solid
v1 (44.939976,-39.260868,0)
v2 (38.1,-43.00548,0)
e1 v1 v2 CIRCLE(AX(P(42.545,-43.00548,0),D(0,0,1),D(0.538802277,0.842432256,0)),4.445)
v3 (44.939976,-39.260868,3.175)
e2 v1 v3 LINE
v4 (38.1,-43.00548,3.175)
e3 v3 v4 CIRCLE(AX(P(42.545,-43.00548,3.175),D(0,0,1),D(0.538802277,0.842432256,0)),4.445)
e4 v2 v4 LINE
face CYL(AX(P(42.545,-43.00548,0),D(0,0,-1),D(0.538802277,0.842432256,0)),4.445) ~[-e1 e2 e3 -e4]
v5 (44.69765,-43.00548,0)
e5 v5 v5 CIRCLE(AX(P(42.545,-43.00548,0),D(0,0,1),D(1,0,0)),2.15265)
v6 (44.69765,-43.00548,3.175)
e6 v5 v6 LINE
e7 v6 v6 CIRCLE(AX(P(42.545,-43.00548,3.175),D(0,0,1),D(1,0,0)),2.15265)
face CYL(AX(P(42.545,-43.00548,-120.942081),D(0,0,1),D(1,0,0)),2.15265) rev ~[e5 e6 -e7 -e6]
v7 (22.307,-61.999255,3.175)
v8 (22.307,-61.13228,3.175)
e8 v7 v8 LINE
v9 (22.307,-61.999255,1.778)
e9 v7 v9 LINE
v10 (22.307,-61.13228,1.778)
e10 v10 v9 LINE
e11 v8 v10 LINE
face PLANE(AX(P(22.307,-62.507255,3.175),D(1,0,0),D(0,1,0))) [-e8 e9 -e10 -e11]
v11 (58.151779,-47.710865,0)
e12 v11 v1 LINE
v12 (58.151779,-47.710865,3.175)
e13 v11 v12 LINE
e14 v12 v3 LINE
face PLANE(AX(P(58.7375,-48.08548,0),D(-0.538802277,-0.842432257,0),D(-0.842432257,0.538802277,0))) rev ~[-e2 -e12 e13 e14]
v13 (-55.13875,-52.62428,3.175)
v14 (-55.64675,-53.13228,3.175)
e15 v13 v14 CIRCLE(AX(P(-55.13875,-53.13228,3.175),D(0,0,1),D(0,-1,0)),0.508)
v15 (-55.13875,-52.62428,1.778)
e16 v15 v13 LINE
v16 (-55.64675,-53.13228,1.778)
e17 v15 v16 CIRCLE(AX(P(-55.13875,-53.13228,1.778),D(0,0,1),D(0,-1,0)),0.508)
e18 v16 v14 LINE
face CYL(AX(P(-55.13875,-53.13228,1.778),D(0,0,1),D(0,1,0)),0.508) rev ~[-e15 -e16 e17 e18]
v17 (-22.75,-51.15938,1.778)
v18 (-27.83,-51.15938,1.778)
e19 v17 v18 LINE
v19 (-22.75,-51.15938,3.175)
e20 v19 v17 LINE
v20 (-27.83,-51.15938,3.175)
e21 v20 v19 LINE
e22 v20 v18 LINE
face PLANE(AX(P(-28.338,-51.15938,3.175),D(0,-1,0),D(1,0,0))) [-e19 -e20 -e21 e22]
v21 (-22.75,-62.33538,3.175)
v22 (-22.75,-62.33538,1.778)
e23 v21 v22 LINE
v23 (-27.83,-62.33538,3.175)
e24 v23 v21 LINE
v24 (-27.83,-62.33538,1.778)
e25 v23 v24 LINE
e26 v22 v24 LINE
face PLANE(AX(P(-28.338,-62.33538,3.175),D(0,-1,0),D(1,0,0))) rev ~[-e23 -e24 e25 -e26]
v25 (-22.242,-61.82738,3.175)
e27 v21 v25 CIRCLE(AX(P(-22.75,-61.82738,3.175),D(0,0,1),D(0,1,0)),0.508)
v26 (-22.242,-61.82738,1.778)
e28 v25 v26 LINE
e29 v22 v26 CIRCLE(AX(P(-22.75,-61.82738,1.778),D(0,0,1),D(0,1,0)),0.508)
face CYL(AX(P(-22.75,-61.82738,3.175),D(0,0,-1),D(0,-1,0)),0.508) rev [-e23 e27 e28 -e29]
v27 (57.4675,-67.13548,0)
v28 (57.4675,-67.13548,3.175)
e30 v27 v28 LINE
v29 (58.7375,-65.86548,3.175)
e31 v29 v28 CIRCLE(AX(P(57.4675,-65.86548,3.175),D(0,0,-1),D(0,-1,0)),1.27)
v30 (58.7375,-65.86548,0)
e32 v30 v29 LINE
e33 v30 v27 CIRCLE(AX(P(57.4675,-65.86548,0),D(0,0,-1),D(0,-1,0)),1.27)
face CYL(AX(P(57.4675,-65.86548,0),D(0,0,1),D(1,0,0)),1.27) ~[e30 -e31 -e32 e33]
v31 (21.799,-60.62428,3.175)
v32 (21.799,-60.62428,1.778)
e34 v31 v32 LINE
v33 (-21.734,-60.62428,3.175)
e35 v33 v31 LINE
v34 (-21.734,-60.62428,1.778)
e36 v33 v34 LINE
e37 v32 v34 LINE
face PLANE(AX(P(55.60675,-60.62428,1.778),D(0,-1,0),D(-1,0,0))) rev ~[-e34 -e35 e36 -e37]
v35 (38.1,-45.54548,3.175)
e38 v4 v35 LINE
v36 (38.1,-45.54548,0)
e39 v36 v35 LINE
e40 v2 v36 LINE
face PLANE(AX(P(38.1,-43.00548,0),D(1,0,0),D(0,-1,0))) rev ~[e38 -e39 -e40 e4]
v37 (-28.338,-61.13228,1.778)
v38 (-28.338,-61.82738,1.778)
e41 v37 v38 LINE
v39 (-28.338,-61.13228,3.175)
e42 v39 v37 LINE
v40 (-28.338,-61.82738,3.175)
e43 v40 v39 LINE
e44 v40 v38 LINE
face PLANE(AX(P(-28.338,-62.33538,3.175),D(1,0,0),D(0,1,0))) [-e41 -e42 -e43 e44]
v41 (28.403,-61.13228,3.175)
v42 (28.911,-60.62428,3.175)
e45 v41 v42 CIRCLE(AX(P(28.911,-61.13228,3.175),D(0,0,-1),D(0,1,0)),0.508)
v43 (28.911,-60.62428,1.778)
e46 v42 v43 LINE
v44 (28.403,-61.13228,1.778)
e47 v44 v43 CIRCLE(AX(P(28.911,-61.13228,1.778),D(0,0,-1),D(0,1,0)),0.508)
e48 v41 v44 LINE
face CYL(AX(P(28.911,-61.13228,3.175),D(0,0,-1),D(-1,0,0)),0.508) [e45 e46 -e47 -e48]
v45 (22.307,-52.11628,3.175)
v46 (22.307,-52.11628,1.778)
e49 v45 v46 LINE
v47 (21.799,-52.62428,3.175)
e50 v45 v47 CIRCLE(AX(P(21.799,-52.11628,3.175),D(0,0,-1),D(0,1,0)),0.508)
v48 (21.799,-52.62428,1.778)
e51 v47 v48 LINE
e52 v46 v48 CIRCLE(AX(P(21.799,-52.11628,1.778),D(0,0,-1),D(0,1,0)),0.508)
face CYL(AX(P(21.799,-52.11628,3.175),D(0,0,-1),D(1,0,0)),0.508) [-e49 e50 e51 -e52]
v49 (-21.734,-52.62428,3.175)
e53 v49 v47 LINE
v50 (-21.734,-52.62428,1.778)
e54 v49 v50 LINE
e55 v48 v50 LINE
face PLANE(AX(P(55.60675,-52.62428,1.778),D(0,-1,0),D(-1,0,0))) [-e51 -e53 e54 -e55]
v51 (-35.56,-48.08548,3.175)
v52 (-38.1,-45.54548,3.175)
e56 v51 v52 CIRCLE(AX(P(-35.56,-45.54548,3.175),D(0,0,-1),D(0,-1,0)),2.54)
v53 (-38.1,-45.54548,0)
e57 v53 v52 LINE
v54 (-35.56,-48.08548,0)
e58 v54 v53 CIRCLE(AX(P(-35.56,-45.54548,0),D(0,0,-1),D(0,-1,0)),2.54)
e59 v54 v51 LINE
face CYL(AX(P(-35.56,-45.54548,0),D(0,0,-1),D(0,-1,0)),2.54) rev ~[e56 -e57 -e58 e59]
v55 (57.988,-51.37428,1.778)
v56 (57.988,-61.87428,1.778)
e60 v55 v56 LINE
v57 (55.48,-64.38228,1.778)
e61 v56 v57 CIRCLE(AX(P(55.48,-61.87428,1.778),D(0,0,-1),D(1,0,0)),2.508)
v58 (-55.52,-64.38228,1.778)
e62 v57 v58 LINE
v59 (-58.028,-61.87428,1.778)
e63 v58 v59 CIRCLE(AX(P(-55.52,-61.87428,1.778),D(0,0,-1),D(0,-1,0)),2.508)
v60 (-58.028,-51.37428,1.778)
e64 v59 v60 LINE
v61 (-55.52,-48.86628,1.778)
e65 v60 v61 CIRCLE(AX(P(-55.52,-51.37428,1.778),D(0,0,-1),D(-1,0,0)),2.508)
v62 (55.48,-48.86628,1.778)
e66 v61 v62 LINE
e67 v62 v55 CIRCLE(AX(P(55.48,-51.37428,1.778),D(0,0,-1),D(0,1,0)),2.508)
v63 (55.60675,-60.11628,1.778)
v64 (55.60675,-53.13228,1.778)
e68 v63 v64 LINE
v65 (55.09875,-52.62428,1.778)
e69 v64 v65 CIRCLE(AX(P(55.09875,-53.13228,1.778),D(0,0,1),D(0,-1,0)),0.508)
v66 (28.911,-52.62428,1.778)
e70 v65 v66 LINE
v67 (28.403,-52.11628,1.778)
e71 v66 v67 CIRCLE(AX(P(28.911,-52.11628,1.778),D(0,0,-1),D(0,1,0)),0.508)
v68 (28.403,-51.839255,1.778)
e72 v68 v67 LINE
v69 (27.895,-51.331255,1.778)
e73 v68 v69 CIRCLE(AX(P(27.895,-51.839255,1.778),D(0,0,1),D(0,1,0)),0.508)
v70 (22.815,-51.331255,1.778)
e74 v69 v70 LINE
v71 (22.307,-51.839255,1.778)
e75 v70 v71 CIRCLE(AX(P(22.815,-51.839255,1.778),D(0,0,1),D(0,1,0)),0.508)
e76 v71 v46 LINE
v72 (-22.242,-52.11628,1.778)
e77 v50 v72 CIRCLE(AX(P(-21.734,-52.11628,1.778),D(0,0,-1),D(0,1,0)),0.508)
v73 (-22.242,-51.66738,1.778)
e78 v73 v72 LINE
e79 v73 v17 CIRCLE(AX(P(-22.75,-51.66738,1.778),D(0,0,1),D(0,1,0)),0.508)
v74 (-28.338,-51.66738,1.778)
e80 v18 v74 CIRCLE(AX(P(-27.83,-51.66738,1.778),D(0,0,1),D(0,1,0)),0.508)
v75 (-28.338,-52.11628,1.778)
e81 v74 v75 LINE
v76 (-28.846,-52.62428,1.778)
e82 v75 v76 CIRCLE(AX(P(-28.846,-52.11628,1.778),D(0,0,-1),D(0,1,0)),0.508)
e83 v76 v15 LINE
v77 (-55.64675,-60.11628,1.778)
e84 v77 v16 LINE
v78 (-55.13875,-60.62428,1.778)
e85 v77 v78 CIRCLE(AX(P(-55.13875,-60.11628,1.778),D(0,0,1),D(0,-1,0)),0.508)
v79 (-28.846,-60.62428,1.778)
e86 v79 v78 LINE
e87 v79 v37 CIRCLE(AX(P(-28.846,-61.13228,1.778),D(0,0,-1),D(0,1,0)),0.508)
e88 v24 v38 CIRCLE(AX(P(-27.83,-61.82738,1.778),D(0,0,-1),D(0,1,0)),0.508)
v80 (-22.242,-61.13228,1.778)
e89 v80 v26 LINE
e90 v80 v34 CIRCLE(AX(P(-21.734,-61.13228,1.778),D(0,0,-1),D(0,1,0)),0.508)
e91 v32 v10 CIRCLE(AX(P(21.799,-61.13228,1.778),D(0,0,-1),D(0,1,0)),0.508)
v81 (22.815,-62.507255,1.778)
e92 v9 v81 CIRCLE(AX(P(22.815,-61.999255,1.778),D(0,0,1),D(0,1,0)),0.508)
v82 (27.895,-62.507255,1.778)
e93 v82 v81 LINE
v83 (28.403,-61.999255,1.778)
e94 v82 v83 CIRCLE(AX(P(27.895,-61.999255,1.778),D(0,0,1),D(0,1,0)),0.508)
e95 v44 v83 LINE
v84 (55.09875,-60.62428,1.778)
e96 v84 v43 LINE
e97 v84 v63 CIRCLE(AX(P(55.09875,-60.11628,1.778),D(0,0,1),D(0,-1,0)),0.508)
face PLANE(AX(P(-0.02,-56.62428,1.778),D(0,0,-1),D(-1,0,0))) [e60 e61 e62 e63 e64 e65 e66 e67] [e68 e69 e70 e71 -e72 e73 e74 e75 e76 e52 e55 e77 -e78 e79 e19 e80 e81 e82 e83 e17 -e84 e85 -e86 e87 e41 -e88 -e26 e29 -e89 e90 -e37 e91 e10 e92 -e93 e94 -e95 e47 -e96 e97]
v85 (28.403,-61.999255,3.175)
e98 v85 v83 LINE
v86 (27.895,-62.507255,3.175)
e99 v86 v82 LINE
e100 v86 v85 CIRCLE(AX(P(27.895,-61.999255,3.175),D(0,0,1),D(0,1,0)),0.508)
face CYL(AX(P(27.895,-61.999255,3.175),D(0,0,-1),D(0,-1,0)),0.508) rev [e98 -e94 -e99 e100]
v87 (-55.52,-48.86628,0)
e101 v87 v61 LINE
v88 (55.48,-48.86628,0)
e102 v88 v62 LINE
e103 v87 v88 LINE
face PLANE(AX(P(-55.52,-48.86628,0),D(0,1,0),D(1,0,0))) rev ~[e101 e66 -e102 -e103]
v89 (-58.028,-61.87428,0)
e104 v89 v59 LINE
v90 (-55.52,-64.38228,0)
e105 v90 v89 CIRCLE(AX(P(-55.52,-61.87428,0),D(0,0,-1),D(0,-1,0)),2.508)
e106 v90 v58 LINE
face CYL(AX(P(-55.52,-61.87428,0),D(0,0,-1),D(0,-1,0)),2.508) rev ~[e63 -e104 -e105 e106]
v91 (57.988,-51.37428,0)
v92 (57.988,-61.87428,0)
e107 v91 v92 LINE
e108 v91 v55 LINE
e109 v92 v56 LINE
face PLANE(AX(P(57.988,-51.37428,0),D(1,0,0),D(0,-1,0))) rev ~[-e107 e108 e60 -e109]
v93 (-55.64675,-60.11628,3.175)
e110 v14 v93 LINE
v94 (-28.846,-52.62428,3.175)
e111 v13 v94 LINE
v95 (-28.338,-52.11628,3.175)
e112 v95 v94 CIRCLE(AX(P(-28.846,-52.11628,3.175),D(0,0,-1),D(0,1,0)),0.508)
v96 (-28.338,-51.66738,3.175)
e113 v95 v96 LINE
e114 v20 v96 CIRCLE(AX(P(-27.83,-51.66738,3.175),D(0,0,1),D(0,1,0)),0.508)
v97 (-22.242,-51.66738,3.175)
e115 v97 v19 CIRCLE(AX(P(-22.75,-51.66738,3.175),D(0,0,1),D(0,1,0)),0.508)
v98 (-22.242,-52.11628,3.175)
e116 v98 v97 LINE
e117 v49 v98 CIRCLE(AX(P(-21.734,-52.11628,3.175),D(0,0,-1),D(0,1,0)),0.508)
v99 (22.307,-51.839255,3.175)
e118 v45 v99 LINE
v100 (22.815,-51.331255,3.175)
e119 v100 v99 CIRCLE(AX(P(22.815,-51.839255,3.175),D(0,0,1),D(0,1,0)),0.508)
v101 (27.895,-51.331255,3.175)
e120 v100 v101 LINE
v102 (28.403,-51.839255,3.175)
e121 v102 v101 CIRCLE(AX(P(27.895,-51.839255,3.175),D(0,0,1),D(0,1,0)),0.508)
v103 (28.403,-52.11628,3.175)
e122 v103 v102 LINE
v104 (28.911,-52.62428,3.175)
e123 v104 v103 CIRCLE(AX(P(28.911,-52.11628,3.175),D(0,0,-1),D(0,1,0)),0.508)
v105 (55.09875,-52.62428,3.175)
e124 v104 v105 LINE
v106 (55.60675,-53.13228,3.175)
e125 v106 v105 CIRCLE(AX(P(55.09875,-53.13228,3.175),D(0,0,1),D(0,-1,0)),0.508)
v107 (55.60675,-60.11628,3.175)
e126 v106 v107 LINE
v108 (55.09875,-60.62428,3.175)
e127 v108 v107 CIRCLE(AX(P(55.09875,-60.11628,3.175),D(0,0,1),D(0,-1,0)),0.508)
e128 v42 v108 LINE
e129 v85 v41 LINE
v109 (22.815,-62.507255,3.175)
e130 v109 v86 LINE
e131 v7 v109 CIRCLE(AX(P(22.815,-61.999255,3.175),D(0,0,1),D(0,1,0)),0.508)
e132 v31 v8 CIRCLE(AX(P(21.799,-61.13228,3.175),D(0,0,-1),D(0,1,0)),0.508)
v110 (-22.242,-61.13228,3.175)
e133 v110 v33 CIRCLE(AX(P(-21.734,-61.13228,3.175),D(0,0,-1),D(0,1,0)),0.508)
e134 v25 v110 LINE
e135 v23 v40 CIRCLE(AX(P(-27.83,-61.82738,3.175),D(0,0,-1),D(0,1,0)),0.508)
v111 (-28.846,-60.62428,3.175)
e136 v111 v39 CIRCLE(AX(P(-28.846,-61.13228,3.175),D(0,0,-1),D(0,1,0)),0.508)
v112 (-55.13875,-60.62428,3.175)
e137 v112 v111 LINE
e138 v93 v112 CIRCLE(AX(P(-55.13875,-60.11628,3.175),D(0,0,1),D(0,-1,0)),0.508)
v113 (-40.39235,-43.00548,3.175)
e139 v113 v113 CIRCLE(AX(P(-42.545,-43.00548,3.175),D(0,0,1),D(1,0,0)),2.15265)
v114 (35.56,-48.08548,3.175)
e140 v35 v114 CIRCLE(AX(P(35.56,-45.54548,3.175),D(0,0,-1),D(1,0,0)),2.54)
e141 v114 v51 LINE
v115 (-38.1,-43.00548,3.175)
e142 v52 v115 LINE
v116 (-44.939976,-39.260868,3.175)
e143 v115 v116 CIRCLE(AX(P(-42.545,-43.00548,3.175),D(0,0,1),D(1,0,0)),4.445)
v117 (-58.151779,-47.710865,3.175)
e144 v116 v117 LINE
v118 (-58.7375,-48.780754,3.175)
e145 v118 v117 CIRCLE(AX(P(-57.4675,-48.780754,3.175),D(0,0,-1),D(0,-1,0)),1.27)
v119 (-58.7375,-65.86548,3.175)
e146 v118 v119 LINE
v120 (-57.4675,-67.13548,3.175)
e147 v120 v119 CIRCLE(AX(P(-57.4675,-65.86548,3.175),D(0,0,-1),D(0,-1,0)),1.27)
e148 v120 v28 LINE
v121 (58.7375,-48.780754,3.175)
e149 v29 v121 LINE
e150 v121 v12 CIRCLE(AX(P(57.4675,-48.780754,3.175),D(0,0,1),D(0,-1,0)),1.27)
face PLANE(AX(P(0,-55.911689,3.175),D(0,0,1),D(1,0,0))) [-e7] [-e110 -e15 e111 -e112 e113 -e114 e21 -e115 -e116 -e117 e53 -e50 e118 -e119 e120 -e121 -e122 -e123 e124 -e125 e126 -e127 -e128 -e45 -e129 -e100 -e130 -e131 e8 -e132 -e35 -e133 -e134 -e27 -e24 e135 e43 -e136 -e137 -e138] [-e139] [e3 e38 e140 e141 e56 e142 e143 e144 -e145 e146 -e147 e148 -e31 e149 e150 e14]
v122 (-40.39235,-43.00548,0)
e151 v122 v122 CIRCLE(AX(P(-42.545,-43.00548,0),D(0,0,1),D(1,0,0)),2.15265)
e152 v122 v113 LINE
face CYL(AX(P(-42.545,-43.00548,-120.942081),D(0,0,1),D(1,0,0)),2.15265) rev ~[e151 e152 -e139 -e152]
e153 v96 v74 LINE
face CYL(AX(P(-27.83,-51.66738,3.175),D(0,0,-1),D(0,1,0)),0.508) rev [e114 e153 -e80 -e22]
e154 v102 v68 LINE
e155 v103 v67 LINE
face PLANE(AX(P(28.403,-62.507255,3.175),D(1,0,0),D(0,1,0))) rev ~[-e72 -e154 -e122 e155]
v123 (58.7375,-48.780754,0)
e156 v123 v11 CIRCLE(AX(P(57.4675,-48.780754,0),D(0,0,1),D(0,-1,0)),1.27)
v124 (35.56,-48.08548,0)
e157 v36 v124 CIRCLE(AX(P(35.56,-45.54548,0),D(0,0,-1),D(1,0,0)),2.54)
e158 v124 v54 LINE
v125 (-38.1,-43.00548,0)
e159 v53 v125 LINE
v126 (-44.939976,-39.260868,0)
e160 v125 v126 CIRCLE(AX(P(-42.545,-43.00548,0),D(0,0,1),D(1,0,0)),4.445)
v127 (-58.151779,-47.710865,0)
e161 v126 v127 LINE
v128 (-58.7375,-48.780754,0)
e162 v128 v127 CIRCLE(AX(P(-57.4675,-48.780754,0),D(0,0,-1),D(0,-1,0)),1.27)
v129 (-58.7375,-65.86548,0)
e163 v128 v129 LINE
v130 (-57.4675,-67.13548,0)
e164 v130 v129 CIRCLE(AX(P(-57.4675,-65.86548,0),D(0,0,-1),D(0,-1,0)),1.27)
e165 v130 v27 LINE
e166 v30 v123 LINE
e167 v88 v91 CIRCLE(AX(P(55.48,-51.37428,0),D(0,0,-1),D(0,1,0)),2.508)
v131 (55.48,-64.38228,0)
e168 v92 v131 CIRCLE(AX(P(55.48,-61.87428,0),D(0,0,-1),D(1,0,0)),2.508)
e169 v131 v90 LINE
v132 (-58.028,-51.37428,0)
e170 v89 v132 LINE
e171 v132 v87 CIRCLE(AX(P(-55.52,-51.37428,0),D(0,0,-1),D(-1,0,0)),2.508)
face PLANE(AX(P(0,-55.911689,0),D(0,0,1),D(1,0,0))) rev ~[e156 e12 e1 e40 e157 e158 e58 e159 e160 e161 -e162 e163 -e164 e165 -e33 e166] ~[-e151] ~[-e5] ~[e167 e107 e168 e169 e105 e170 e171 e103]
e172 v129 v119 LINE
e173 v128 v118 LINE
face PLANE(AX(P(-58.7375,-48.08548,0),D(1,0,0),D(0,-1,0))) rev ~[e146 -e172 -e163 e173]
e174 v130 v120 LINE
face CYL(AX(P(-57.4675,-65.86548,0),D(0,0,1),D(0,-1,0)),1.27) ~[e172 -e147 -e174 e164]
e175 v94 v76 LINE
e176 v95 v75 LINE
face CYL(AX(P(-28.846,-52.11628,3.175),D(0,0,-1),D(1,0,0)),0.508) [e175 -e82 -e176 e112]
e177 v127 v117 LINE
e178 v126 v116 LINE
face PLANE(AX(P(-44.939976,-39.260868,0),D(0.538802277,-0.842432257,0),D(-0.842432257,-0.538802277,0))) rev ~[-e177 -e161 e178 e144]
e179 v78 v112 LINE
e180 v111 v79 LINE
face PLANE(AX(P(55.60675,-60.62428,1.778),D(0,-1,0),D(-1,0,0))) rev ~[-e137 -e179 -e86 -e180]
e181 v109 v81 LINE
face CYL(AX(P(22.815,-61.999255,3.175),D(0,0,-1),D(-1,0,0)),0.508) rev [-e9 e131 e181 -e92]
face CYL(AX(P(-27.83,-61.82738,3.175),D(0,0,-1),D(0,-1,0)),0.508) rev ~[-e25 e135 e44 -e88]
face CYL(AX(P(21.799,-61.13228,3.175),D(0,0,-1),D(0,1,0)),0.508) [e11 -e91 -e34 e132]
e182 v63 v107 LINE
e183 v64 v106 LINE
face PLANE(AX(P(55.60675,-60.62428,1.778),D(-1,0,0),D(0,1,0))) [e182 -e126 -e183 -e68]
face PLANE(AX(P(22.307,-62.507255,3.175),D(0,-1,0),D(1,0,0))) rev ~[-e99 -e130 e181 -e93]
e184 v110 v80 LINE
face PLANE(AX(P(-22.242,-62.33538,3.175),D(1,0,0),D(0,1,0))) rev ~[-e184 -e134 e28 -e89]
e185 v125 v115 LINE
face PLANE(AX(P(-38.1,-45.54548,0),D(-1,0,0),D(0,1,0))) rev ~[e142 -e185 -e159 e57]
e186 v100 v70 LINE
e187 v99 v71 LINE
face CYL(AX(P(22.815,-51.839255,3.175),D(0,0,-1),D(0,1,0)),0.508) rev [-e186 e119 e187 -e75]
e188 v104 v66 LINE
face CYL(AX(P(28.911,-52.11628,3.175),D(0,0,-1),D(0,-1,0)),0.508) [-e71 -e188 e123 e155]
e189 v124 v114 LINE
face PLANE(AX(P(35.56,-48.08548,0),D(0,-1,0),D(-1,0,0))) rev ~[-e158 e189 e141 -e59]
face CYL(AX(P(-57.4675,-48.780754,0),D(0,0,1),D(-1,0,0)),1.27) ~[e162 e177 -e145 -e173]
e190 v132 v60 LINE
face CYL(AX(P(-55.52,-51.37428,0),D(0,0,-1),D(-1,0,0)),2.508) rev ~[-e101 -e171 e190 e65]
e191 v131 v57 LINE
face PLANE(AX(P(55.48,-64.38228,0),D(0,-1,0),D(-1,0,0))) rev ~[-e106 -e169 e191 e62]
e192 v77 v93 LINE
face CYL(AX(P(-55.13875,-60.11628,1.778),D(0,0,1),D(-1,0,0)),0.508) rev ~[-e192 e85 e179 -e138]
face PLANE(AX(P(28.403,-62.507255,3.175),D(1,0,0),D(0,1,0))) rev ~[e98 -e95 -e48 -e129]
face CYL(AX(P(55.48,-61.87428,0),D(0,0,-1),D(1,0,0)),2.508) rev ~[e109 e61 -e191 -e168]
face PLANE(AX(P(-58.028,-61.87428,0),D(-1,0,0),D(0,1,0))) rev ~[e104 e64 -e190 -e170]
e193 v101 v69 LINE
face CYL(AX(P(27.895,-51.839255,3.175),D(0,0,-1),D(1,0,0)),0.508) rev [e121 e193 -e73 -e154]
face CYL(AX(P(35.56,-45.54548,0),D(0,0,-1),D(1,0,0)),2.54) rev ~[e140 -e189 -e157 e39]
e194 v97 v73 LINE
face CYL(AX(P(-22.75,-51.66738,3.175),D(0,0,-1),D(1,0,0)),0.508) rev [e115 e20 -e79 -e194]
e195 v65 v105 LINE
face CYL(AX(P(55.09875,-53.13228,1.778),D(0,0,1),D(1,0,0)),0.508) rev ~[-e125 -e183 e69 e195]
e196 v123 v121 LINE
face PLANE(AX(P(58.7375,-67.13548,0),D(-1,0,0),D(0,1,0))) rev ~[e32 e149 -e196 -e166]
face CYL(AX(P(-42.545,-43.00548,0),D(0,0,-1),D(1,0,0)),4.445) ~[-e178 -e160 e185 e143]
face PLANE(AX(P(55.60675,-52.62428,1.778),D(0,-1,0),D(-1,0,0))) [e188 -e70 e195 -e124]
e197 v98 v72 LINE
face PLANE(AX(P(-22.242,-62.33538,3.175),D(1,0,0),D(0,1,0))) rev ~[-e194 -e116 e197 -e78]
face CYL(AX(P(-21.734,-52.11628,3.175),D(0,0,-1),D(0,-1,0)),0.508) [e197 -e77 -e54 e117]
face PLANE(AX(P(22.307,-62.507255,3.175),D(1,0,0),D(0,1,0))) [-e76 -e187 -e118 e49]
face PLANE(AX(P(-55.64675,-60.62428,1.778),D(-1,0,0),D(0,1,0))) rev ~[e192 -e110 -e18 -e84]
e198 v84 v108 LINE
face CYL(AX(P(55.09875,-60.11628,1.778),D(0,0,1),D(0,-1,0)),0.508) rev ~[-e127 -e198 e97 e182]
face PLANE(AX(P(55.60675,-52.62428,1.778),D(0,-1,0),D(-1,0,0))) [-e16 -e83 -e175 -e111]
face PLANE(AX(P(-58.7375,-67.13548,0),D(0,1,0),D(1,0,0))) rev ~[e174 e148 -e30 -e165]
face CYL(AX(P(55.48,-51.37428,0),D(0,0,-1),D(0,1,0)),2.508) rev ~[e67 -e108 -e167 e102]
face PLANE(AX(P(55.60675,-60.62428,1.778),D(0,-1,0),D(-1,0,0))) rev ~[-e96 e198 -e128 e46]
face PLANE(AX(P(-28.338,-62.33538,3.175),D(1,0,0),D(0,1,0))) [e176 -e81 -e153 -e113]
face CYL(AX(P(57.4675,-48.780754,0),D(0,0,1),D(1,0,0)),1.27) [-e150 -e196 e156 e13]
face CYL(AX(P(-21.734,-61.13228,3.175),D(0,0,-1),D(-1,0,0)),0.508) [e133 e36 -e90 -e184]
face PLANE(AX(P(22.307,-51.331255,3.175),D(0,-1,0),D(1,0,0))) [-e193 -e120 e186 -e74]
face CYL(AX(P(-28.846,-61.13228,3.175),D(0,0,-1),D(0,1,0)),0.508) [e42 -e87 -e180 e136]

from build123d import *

# Parameters (mm, degrees)
BOSS_EXTRUDE1_DEPTH   = 3.175
F_6_CLEARANCE_HOLE1_D = 4.3053
FILLET3_R             = 1.27
CUT_EXTRUDE3_DEPTH    = 1.778
SKETCH9_W             = 6.096
SKETCH9_H             = 11.176
CUT_EXTRUDE4_DEPTH    = 4.175
SKETCH10_W            = 111.2535
SKETCH10_H            = 8
CUT_EXTRUDE5_DEPTH    = 2.397
FILLET5_R             = 0.508


with BuildPart() as part:
    # Sketch1 → Boss-Extrude1 (new body)
    with BuildSketch(Plane.XY):
        with BuildLine():
            Line((58.7375, -67.1354797), (58.7375, -48.0854797))
            Line((58.7375, -48.0854797), (44.939976119, -39.26086832))
            ThreePointArc((44.939976119, -39.26086832), (40.410479427, -39.106525106), (38.1, -43.0054797))
            Line((38.1, -43.0054797), (38.1, -45.5454797))
            ThreePointArc((38.1, -45.5454797), (37.356051224, -47.341530924), (35.56, -48.0854797))
            Line((35.56, -48.0854797), (-35.56, -48.0854797))
            ThreePointArc((-35.56, -48.0854797), (-37.356051224, -47.341530924), (-38.1, -45.5454797))
            Line((-38.1, -45.5454797), (-38.1, -43.0054797))
            ThreePointArc((-38.1, -43.0054797), (-40.410479427, -39.106525106), (-44.939976119, -39.26086832))
            Line((-44.939976119, -39.26086832), (-58.7375, -48.0854797))
            Line((-58.7375, -48.0854797), (-58.7375, -67.1354797))
            Line((-58.7375, -67.1354797), (58.7375, -67.1354797))
        make_face()
    extrude(amount=BOSS_EXTRUDE1_DEPTH)

    # #6 Clearance Hole1 (through all)
    with Locations(Plane(origin=(0, 0, 0), x_dir=(-1, 0, 0), z_dir=(0, 0, -1))):
        with Locations((42.545, -43.0054797), (-42.545, -43.0054797)):
            Hole(F_6_CLEARANCE_HOLE1_D / 2)

    # Fillet3
    fillet3_edges = [part.edges().sort_by_distance(p)[0] for p in [
        (-58.7375, -67.1354797, 1.5875),
        (-58.7375, -48.0854797, 1.5875),
        (58.7375, -48.0854797, 1.5875),
        (58.7375, -67.1354797, 1.5875),
    ]]
    fillet(fillet3_edges, radius=FILLET3_R)

    # Sketch8 → Cut-Extrude3 (cut)
    with BuildSketch(Plane(origin=(0, 0, 0), x_dir=(-1, 0, 0), z_dir=(0, 0, -1))):
        with BuildLine():
            Line((58.028, -61.8742797), (58.028, -51.3742797))
            ThreePointArc((58.028, -51.3742797), (57.293423807, -49.600855893), (55.52, -48.8662797))
            Line((55.52, -48.8662797), (-55.48, -48.8662797))
            ThreePointArc((-55.48, -48.8662797), (-57.253423807, -49.600855893), (-57.988, -51.3742797))
            Line((-57.988, -51.3742797), (-57.988, -61.8742797))
            ThreePointArc((-57.988, -61.8742797), (-57.253423807, -63.647703507), (-55.48, -64.3822797))
            Line((-55.48, -64.3822797), (55.52, -64.3822797))
            ThreePointArc((55.52, -64.3822797), (57.293423807, -63.647703507), (58.028, -61.8742797))
        make_face()
    extrude(amount=-CUT_EXTRUDE3_DEPTH, mode=Mode.SUBTRACT)

    # Sketch9 → Cut-Extrude4 (cut, through all)
    with BuildSketch(Plane.XY.offset(3.175)):
        with Locations((-25.29, -56.7473797)):
            Rectangle(SKETCH9_W, SKETCH9_H)
        with Locations((25.355, -56.9192547)):
            Rectangle(SKETCH9_W, SKETCH9_H)
    extrude(amount=-CUT_EXTRUDE4_DEPTH, mode=Mode.SUBTRACT)

    # Sketch10 → Cut-Extrude5 (cut, through all)
    with BuildSketch(Plane(origin=(0, 0, 1.778), x_dir=(-1, 0, 0), z_dir=(0, 0, -1))):
        with Locations((0.02, -56.6242797)):
            Rectangle(SKETCH10_W, SKETCH10_H)
    extrude(amount=-CUT_EXTRUDE5_DEPTH, mode=Mode.SUBTRACT)

    # Fillet5
    fillet5_edges = [part.edges().sort_by_distance(p)[0] for p in [
        (-22.242, -51.1593797, 2.4765),
        (-22.242, -62.3353797, 2.4765),
        (-28.338, -62.3353797, 2.4765),
        (-28.338, -51.1593797, 2.4765),
        (28.403, -51.3312547, 2.4765),
        (28.403, -62.5072547, 2.4765),
        (22.307, -62.5072547, 2.4765),
        (22.307, -51.3312547, 2.4765),
        (-28.338, -60.6242797, 2.4765),
        (-28.338, -52.6242797, 2.4765),
        (28.403, -52.6242797, 2.4765),
        (55.60675, -52.6242797, 2.4765),
        (22.307, -52.6242797, 2.4765),
        (-22.242, -52.6242797, 2.4765),
        (28.403, -60.6242797, 2.4765),
        (22.307, -60.6242797, 2.4765),
        (-22.242, -60.6242797, 2.4765),
        (-55.64675, -60.6242797, 2.4765),
        (55.60675, -60.6242797, 2.4765),
        (-55.64675, -52.6242797, 2.4765),
    ]]
    fillet(fillet5_edges, radius=FILLET5_R)


solid = part.part
